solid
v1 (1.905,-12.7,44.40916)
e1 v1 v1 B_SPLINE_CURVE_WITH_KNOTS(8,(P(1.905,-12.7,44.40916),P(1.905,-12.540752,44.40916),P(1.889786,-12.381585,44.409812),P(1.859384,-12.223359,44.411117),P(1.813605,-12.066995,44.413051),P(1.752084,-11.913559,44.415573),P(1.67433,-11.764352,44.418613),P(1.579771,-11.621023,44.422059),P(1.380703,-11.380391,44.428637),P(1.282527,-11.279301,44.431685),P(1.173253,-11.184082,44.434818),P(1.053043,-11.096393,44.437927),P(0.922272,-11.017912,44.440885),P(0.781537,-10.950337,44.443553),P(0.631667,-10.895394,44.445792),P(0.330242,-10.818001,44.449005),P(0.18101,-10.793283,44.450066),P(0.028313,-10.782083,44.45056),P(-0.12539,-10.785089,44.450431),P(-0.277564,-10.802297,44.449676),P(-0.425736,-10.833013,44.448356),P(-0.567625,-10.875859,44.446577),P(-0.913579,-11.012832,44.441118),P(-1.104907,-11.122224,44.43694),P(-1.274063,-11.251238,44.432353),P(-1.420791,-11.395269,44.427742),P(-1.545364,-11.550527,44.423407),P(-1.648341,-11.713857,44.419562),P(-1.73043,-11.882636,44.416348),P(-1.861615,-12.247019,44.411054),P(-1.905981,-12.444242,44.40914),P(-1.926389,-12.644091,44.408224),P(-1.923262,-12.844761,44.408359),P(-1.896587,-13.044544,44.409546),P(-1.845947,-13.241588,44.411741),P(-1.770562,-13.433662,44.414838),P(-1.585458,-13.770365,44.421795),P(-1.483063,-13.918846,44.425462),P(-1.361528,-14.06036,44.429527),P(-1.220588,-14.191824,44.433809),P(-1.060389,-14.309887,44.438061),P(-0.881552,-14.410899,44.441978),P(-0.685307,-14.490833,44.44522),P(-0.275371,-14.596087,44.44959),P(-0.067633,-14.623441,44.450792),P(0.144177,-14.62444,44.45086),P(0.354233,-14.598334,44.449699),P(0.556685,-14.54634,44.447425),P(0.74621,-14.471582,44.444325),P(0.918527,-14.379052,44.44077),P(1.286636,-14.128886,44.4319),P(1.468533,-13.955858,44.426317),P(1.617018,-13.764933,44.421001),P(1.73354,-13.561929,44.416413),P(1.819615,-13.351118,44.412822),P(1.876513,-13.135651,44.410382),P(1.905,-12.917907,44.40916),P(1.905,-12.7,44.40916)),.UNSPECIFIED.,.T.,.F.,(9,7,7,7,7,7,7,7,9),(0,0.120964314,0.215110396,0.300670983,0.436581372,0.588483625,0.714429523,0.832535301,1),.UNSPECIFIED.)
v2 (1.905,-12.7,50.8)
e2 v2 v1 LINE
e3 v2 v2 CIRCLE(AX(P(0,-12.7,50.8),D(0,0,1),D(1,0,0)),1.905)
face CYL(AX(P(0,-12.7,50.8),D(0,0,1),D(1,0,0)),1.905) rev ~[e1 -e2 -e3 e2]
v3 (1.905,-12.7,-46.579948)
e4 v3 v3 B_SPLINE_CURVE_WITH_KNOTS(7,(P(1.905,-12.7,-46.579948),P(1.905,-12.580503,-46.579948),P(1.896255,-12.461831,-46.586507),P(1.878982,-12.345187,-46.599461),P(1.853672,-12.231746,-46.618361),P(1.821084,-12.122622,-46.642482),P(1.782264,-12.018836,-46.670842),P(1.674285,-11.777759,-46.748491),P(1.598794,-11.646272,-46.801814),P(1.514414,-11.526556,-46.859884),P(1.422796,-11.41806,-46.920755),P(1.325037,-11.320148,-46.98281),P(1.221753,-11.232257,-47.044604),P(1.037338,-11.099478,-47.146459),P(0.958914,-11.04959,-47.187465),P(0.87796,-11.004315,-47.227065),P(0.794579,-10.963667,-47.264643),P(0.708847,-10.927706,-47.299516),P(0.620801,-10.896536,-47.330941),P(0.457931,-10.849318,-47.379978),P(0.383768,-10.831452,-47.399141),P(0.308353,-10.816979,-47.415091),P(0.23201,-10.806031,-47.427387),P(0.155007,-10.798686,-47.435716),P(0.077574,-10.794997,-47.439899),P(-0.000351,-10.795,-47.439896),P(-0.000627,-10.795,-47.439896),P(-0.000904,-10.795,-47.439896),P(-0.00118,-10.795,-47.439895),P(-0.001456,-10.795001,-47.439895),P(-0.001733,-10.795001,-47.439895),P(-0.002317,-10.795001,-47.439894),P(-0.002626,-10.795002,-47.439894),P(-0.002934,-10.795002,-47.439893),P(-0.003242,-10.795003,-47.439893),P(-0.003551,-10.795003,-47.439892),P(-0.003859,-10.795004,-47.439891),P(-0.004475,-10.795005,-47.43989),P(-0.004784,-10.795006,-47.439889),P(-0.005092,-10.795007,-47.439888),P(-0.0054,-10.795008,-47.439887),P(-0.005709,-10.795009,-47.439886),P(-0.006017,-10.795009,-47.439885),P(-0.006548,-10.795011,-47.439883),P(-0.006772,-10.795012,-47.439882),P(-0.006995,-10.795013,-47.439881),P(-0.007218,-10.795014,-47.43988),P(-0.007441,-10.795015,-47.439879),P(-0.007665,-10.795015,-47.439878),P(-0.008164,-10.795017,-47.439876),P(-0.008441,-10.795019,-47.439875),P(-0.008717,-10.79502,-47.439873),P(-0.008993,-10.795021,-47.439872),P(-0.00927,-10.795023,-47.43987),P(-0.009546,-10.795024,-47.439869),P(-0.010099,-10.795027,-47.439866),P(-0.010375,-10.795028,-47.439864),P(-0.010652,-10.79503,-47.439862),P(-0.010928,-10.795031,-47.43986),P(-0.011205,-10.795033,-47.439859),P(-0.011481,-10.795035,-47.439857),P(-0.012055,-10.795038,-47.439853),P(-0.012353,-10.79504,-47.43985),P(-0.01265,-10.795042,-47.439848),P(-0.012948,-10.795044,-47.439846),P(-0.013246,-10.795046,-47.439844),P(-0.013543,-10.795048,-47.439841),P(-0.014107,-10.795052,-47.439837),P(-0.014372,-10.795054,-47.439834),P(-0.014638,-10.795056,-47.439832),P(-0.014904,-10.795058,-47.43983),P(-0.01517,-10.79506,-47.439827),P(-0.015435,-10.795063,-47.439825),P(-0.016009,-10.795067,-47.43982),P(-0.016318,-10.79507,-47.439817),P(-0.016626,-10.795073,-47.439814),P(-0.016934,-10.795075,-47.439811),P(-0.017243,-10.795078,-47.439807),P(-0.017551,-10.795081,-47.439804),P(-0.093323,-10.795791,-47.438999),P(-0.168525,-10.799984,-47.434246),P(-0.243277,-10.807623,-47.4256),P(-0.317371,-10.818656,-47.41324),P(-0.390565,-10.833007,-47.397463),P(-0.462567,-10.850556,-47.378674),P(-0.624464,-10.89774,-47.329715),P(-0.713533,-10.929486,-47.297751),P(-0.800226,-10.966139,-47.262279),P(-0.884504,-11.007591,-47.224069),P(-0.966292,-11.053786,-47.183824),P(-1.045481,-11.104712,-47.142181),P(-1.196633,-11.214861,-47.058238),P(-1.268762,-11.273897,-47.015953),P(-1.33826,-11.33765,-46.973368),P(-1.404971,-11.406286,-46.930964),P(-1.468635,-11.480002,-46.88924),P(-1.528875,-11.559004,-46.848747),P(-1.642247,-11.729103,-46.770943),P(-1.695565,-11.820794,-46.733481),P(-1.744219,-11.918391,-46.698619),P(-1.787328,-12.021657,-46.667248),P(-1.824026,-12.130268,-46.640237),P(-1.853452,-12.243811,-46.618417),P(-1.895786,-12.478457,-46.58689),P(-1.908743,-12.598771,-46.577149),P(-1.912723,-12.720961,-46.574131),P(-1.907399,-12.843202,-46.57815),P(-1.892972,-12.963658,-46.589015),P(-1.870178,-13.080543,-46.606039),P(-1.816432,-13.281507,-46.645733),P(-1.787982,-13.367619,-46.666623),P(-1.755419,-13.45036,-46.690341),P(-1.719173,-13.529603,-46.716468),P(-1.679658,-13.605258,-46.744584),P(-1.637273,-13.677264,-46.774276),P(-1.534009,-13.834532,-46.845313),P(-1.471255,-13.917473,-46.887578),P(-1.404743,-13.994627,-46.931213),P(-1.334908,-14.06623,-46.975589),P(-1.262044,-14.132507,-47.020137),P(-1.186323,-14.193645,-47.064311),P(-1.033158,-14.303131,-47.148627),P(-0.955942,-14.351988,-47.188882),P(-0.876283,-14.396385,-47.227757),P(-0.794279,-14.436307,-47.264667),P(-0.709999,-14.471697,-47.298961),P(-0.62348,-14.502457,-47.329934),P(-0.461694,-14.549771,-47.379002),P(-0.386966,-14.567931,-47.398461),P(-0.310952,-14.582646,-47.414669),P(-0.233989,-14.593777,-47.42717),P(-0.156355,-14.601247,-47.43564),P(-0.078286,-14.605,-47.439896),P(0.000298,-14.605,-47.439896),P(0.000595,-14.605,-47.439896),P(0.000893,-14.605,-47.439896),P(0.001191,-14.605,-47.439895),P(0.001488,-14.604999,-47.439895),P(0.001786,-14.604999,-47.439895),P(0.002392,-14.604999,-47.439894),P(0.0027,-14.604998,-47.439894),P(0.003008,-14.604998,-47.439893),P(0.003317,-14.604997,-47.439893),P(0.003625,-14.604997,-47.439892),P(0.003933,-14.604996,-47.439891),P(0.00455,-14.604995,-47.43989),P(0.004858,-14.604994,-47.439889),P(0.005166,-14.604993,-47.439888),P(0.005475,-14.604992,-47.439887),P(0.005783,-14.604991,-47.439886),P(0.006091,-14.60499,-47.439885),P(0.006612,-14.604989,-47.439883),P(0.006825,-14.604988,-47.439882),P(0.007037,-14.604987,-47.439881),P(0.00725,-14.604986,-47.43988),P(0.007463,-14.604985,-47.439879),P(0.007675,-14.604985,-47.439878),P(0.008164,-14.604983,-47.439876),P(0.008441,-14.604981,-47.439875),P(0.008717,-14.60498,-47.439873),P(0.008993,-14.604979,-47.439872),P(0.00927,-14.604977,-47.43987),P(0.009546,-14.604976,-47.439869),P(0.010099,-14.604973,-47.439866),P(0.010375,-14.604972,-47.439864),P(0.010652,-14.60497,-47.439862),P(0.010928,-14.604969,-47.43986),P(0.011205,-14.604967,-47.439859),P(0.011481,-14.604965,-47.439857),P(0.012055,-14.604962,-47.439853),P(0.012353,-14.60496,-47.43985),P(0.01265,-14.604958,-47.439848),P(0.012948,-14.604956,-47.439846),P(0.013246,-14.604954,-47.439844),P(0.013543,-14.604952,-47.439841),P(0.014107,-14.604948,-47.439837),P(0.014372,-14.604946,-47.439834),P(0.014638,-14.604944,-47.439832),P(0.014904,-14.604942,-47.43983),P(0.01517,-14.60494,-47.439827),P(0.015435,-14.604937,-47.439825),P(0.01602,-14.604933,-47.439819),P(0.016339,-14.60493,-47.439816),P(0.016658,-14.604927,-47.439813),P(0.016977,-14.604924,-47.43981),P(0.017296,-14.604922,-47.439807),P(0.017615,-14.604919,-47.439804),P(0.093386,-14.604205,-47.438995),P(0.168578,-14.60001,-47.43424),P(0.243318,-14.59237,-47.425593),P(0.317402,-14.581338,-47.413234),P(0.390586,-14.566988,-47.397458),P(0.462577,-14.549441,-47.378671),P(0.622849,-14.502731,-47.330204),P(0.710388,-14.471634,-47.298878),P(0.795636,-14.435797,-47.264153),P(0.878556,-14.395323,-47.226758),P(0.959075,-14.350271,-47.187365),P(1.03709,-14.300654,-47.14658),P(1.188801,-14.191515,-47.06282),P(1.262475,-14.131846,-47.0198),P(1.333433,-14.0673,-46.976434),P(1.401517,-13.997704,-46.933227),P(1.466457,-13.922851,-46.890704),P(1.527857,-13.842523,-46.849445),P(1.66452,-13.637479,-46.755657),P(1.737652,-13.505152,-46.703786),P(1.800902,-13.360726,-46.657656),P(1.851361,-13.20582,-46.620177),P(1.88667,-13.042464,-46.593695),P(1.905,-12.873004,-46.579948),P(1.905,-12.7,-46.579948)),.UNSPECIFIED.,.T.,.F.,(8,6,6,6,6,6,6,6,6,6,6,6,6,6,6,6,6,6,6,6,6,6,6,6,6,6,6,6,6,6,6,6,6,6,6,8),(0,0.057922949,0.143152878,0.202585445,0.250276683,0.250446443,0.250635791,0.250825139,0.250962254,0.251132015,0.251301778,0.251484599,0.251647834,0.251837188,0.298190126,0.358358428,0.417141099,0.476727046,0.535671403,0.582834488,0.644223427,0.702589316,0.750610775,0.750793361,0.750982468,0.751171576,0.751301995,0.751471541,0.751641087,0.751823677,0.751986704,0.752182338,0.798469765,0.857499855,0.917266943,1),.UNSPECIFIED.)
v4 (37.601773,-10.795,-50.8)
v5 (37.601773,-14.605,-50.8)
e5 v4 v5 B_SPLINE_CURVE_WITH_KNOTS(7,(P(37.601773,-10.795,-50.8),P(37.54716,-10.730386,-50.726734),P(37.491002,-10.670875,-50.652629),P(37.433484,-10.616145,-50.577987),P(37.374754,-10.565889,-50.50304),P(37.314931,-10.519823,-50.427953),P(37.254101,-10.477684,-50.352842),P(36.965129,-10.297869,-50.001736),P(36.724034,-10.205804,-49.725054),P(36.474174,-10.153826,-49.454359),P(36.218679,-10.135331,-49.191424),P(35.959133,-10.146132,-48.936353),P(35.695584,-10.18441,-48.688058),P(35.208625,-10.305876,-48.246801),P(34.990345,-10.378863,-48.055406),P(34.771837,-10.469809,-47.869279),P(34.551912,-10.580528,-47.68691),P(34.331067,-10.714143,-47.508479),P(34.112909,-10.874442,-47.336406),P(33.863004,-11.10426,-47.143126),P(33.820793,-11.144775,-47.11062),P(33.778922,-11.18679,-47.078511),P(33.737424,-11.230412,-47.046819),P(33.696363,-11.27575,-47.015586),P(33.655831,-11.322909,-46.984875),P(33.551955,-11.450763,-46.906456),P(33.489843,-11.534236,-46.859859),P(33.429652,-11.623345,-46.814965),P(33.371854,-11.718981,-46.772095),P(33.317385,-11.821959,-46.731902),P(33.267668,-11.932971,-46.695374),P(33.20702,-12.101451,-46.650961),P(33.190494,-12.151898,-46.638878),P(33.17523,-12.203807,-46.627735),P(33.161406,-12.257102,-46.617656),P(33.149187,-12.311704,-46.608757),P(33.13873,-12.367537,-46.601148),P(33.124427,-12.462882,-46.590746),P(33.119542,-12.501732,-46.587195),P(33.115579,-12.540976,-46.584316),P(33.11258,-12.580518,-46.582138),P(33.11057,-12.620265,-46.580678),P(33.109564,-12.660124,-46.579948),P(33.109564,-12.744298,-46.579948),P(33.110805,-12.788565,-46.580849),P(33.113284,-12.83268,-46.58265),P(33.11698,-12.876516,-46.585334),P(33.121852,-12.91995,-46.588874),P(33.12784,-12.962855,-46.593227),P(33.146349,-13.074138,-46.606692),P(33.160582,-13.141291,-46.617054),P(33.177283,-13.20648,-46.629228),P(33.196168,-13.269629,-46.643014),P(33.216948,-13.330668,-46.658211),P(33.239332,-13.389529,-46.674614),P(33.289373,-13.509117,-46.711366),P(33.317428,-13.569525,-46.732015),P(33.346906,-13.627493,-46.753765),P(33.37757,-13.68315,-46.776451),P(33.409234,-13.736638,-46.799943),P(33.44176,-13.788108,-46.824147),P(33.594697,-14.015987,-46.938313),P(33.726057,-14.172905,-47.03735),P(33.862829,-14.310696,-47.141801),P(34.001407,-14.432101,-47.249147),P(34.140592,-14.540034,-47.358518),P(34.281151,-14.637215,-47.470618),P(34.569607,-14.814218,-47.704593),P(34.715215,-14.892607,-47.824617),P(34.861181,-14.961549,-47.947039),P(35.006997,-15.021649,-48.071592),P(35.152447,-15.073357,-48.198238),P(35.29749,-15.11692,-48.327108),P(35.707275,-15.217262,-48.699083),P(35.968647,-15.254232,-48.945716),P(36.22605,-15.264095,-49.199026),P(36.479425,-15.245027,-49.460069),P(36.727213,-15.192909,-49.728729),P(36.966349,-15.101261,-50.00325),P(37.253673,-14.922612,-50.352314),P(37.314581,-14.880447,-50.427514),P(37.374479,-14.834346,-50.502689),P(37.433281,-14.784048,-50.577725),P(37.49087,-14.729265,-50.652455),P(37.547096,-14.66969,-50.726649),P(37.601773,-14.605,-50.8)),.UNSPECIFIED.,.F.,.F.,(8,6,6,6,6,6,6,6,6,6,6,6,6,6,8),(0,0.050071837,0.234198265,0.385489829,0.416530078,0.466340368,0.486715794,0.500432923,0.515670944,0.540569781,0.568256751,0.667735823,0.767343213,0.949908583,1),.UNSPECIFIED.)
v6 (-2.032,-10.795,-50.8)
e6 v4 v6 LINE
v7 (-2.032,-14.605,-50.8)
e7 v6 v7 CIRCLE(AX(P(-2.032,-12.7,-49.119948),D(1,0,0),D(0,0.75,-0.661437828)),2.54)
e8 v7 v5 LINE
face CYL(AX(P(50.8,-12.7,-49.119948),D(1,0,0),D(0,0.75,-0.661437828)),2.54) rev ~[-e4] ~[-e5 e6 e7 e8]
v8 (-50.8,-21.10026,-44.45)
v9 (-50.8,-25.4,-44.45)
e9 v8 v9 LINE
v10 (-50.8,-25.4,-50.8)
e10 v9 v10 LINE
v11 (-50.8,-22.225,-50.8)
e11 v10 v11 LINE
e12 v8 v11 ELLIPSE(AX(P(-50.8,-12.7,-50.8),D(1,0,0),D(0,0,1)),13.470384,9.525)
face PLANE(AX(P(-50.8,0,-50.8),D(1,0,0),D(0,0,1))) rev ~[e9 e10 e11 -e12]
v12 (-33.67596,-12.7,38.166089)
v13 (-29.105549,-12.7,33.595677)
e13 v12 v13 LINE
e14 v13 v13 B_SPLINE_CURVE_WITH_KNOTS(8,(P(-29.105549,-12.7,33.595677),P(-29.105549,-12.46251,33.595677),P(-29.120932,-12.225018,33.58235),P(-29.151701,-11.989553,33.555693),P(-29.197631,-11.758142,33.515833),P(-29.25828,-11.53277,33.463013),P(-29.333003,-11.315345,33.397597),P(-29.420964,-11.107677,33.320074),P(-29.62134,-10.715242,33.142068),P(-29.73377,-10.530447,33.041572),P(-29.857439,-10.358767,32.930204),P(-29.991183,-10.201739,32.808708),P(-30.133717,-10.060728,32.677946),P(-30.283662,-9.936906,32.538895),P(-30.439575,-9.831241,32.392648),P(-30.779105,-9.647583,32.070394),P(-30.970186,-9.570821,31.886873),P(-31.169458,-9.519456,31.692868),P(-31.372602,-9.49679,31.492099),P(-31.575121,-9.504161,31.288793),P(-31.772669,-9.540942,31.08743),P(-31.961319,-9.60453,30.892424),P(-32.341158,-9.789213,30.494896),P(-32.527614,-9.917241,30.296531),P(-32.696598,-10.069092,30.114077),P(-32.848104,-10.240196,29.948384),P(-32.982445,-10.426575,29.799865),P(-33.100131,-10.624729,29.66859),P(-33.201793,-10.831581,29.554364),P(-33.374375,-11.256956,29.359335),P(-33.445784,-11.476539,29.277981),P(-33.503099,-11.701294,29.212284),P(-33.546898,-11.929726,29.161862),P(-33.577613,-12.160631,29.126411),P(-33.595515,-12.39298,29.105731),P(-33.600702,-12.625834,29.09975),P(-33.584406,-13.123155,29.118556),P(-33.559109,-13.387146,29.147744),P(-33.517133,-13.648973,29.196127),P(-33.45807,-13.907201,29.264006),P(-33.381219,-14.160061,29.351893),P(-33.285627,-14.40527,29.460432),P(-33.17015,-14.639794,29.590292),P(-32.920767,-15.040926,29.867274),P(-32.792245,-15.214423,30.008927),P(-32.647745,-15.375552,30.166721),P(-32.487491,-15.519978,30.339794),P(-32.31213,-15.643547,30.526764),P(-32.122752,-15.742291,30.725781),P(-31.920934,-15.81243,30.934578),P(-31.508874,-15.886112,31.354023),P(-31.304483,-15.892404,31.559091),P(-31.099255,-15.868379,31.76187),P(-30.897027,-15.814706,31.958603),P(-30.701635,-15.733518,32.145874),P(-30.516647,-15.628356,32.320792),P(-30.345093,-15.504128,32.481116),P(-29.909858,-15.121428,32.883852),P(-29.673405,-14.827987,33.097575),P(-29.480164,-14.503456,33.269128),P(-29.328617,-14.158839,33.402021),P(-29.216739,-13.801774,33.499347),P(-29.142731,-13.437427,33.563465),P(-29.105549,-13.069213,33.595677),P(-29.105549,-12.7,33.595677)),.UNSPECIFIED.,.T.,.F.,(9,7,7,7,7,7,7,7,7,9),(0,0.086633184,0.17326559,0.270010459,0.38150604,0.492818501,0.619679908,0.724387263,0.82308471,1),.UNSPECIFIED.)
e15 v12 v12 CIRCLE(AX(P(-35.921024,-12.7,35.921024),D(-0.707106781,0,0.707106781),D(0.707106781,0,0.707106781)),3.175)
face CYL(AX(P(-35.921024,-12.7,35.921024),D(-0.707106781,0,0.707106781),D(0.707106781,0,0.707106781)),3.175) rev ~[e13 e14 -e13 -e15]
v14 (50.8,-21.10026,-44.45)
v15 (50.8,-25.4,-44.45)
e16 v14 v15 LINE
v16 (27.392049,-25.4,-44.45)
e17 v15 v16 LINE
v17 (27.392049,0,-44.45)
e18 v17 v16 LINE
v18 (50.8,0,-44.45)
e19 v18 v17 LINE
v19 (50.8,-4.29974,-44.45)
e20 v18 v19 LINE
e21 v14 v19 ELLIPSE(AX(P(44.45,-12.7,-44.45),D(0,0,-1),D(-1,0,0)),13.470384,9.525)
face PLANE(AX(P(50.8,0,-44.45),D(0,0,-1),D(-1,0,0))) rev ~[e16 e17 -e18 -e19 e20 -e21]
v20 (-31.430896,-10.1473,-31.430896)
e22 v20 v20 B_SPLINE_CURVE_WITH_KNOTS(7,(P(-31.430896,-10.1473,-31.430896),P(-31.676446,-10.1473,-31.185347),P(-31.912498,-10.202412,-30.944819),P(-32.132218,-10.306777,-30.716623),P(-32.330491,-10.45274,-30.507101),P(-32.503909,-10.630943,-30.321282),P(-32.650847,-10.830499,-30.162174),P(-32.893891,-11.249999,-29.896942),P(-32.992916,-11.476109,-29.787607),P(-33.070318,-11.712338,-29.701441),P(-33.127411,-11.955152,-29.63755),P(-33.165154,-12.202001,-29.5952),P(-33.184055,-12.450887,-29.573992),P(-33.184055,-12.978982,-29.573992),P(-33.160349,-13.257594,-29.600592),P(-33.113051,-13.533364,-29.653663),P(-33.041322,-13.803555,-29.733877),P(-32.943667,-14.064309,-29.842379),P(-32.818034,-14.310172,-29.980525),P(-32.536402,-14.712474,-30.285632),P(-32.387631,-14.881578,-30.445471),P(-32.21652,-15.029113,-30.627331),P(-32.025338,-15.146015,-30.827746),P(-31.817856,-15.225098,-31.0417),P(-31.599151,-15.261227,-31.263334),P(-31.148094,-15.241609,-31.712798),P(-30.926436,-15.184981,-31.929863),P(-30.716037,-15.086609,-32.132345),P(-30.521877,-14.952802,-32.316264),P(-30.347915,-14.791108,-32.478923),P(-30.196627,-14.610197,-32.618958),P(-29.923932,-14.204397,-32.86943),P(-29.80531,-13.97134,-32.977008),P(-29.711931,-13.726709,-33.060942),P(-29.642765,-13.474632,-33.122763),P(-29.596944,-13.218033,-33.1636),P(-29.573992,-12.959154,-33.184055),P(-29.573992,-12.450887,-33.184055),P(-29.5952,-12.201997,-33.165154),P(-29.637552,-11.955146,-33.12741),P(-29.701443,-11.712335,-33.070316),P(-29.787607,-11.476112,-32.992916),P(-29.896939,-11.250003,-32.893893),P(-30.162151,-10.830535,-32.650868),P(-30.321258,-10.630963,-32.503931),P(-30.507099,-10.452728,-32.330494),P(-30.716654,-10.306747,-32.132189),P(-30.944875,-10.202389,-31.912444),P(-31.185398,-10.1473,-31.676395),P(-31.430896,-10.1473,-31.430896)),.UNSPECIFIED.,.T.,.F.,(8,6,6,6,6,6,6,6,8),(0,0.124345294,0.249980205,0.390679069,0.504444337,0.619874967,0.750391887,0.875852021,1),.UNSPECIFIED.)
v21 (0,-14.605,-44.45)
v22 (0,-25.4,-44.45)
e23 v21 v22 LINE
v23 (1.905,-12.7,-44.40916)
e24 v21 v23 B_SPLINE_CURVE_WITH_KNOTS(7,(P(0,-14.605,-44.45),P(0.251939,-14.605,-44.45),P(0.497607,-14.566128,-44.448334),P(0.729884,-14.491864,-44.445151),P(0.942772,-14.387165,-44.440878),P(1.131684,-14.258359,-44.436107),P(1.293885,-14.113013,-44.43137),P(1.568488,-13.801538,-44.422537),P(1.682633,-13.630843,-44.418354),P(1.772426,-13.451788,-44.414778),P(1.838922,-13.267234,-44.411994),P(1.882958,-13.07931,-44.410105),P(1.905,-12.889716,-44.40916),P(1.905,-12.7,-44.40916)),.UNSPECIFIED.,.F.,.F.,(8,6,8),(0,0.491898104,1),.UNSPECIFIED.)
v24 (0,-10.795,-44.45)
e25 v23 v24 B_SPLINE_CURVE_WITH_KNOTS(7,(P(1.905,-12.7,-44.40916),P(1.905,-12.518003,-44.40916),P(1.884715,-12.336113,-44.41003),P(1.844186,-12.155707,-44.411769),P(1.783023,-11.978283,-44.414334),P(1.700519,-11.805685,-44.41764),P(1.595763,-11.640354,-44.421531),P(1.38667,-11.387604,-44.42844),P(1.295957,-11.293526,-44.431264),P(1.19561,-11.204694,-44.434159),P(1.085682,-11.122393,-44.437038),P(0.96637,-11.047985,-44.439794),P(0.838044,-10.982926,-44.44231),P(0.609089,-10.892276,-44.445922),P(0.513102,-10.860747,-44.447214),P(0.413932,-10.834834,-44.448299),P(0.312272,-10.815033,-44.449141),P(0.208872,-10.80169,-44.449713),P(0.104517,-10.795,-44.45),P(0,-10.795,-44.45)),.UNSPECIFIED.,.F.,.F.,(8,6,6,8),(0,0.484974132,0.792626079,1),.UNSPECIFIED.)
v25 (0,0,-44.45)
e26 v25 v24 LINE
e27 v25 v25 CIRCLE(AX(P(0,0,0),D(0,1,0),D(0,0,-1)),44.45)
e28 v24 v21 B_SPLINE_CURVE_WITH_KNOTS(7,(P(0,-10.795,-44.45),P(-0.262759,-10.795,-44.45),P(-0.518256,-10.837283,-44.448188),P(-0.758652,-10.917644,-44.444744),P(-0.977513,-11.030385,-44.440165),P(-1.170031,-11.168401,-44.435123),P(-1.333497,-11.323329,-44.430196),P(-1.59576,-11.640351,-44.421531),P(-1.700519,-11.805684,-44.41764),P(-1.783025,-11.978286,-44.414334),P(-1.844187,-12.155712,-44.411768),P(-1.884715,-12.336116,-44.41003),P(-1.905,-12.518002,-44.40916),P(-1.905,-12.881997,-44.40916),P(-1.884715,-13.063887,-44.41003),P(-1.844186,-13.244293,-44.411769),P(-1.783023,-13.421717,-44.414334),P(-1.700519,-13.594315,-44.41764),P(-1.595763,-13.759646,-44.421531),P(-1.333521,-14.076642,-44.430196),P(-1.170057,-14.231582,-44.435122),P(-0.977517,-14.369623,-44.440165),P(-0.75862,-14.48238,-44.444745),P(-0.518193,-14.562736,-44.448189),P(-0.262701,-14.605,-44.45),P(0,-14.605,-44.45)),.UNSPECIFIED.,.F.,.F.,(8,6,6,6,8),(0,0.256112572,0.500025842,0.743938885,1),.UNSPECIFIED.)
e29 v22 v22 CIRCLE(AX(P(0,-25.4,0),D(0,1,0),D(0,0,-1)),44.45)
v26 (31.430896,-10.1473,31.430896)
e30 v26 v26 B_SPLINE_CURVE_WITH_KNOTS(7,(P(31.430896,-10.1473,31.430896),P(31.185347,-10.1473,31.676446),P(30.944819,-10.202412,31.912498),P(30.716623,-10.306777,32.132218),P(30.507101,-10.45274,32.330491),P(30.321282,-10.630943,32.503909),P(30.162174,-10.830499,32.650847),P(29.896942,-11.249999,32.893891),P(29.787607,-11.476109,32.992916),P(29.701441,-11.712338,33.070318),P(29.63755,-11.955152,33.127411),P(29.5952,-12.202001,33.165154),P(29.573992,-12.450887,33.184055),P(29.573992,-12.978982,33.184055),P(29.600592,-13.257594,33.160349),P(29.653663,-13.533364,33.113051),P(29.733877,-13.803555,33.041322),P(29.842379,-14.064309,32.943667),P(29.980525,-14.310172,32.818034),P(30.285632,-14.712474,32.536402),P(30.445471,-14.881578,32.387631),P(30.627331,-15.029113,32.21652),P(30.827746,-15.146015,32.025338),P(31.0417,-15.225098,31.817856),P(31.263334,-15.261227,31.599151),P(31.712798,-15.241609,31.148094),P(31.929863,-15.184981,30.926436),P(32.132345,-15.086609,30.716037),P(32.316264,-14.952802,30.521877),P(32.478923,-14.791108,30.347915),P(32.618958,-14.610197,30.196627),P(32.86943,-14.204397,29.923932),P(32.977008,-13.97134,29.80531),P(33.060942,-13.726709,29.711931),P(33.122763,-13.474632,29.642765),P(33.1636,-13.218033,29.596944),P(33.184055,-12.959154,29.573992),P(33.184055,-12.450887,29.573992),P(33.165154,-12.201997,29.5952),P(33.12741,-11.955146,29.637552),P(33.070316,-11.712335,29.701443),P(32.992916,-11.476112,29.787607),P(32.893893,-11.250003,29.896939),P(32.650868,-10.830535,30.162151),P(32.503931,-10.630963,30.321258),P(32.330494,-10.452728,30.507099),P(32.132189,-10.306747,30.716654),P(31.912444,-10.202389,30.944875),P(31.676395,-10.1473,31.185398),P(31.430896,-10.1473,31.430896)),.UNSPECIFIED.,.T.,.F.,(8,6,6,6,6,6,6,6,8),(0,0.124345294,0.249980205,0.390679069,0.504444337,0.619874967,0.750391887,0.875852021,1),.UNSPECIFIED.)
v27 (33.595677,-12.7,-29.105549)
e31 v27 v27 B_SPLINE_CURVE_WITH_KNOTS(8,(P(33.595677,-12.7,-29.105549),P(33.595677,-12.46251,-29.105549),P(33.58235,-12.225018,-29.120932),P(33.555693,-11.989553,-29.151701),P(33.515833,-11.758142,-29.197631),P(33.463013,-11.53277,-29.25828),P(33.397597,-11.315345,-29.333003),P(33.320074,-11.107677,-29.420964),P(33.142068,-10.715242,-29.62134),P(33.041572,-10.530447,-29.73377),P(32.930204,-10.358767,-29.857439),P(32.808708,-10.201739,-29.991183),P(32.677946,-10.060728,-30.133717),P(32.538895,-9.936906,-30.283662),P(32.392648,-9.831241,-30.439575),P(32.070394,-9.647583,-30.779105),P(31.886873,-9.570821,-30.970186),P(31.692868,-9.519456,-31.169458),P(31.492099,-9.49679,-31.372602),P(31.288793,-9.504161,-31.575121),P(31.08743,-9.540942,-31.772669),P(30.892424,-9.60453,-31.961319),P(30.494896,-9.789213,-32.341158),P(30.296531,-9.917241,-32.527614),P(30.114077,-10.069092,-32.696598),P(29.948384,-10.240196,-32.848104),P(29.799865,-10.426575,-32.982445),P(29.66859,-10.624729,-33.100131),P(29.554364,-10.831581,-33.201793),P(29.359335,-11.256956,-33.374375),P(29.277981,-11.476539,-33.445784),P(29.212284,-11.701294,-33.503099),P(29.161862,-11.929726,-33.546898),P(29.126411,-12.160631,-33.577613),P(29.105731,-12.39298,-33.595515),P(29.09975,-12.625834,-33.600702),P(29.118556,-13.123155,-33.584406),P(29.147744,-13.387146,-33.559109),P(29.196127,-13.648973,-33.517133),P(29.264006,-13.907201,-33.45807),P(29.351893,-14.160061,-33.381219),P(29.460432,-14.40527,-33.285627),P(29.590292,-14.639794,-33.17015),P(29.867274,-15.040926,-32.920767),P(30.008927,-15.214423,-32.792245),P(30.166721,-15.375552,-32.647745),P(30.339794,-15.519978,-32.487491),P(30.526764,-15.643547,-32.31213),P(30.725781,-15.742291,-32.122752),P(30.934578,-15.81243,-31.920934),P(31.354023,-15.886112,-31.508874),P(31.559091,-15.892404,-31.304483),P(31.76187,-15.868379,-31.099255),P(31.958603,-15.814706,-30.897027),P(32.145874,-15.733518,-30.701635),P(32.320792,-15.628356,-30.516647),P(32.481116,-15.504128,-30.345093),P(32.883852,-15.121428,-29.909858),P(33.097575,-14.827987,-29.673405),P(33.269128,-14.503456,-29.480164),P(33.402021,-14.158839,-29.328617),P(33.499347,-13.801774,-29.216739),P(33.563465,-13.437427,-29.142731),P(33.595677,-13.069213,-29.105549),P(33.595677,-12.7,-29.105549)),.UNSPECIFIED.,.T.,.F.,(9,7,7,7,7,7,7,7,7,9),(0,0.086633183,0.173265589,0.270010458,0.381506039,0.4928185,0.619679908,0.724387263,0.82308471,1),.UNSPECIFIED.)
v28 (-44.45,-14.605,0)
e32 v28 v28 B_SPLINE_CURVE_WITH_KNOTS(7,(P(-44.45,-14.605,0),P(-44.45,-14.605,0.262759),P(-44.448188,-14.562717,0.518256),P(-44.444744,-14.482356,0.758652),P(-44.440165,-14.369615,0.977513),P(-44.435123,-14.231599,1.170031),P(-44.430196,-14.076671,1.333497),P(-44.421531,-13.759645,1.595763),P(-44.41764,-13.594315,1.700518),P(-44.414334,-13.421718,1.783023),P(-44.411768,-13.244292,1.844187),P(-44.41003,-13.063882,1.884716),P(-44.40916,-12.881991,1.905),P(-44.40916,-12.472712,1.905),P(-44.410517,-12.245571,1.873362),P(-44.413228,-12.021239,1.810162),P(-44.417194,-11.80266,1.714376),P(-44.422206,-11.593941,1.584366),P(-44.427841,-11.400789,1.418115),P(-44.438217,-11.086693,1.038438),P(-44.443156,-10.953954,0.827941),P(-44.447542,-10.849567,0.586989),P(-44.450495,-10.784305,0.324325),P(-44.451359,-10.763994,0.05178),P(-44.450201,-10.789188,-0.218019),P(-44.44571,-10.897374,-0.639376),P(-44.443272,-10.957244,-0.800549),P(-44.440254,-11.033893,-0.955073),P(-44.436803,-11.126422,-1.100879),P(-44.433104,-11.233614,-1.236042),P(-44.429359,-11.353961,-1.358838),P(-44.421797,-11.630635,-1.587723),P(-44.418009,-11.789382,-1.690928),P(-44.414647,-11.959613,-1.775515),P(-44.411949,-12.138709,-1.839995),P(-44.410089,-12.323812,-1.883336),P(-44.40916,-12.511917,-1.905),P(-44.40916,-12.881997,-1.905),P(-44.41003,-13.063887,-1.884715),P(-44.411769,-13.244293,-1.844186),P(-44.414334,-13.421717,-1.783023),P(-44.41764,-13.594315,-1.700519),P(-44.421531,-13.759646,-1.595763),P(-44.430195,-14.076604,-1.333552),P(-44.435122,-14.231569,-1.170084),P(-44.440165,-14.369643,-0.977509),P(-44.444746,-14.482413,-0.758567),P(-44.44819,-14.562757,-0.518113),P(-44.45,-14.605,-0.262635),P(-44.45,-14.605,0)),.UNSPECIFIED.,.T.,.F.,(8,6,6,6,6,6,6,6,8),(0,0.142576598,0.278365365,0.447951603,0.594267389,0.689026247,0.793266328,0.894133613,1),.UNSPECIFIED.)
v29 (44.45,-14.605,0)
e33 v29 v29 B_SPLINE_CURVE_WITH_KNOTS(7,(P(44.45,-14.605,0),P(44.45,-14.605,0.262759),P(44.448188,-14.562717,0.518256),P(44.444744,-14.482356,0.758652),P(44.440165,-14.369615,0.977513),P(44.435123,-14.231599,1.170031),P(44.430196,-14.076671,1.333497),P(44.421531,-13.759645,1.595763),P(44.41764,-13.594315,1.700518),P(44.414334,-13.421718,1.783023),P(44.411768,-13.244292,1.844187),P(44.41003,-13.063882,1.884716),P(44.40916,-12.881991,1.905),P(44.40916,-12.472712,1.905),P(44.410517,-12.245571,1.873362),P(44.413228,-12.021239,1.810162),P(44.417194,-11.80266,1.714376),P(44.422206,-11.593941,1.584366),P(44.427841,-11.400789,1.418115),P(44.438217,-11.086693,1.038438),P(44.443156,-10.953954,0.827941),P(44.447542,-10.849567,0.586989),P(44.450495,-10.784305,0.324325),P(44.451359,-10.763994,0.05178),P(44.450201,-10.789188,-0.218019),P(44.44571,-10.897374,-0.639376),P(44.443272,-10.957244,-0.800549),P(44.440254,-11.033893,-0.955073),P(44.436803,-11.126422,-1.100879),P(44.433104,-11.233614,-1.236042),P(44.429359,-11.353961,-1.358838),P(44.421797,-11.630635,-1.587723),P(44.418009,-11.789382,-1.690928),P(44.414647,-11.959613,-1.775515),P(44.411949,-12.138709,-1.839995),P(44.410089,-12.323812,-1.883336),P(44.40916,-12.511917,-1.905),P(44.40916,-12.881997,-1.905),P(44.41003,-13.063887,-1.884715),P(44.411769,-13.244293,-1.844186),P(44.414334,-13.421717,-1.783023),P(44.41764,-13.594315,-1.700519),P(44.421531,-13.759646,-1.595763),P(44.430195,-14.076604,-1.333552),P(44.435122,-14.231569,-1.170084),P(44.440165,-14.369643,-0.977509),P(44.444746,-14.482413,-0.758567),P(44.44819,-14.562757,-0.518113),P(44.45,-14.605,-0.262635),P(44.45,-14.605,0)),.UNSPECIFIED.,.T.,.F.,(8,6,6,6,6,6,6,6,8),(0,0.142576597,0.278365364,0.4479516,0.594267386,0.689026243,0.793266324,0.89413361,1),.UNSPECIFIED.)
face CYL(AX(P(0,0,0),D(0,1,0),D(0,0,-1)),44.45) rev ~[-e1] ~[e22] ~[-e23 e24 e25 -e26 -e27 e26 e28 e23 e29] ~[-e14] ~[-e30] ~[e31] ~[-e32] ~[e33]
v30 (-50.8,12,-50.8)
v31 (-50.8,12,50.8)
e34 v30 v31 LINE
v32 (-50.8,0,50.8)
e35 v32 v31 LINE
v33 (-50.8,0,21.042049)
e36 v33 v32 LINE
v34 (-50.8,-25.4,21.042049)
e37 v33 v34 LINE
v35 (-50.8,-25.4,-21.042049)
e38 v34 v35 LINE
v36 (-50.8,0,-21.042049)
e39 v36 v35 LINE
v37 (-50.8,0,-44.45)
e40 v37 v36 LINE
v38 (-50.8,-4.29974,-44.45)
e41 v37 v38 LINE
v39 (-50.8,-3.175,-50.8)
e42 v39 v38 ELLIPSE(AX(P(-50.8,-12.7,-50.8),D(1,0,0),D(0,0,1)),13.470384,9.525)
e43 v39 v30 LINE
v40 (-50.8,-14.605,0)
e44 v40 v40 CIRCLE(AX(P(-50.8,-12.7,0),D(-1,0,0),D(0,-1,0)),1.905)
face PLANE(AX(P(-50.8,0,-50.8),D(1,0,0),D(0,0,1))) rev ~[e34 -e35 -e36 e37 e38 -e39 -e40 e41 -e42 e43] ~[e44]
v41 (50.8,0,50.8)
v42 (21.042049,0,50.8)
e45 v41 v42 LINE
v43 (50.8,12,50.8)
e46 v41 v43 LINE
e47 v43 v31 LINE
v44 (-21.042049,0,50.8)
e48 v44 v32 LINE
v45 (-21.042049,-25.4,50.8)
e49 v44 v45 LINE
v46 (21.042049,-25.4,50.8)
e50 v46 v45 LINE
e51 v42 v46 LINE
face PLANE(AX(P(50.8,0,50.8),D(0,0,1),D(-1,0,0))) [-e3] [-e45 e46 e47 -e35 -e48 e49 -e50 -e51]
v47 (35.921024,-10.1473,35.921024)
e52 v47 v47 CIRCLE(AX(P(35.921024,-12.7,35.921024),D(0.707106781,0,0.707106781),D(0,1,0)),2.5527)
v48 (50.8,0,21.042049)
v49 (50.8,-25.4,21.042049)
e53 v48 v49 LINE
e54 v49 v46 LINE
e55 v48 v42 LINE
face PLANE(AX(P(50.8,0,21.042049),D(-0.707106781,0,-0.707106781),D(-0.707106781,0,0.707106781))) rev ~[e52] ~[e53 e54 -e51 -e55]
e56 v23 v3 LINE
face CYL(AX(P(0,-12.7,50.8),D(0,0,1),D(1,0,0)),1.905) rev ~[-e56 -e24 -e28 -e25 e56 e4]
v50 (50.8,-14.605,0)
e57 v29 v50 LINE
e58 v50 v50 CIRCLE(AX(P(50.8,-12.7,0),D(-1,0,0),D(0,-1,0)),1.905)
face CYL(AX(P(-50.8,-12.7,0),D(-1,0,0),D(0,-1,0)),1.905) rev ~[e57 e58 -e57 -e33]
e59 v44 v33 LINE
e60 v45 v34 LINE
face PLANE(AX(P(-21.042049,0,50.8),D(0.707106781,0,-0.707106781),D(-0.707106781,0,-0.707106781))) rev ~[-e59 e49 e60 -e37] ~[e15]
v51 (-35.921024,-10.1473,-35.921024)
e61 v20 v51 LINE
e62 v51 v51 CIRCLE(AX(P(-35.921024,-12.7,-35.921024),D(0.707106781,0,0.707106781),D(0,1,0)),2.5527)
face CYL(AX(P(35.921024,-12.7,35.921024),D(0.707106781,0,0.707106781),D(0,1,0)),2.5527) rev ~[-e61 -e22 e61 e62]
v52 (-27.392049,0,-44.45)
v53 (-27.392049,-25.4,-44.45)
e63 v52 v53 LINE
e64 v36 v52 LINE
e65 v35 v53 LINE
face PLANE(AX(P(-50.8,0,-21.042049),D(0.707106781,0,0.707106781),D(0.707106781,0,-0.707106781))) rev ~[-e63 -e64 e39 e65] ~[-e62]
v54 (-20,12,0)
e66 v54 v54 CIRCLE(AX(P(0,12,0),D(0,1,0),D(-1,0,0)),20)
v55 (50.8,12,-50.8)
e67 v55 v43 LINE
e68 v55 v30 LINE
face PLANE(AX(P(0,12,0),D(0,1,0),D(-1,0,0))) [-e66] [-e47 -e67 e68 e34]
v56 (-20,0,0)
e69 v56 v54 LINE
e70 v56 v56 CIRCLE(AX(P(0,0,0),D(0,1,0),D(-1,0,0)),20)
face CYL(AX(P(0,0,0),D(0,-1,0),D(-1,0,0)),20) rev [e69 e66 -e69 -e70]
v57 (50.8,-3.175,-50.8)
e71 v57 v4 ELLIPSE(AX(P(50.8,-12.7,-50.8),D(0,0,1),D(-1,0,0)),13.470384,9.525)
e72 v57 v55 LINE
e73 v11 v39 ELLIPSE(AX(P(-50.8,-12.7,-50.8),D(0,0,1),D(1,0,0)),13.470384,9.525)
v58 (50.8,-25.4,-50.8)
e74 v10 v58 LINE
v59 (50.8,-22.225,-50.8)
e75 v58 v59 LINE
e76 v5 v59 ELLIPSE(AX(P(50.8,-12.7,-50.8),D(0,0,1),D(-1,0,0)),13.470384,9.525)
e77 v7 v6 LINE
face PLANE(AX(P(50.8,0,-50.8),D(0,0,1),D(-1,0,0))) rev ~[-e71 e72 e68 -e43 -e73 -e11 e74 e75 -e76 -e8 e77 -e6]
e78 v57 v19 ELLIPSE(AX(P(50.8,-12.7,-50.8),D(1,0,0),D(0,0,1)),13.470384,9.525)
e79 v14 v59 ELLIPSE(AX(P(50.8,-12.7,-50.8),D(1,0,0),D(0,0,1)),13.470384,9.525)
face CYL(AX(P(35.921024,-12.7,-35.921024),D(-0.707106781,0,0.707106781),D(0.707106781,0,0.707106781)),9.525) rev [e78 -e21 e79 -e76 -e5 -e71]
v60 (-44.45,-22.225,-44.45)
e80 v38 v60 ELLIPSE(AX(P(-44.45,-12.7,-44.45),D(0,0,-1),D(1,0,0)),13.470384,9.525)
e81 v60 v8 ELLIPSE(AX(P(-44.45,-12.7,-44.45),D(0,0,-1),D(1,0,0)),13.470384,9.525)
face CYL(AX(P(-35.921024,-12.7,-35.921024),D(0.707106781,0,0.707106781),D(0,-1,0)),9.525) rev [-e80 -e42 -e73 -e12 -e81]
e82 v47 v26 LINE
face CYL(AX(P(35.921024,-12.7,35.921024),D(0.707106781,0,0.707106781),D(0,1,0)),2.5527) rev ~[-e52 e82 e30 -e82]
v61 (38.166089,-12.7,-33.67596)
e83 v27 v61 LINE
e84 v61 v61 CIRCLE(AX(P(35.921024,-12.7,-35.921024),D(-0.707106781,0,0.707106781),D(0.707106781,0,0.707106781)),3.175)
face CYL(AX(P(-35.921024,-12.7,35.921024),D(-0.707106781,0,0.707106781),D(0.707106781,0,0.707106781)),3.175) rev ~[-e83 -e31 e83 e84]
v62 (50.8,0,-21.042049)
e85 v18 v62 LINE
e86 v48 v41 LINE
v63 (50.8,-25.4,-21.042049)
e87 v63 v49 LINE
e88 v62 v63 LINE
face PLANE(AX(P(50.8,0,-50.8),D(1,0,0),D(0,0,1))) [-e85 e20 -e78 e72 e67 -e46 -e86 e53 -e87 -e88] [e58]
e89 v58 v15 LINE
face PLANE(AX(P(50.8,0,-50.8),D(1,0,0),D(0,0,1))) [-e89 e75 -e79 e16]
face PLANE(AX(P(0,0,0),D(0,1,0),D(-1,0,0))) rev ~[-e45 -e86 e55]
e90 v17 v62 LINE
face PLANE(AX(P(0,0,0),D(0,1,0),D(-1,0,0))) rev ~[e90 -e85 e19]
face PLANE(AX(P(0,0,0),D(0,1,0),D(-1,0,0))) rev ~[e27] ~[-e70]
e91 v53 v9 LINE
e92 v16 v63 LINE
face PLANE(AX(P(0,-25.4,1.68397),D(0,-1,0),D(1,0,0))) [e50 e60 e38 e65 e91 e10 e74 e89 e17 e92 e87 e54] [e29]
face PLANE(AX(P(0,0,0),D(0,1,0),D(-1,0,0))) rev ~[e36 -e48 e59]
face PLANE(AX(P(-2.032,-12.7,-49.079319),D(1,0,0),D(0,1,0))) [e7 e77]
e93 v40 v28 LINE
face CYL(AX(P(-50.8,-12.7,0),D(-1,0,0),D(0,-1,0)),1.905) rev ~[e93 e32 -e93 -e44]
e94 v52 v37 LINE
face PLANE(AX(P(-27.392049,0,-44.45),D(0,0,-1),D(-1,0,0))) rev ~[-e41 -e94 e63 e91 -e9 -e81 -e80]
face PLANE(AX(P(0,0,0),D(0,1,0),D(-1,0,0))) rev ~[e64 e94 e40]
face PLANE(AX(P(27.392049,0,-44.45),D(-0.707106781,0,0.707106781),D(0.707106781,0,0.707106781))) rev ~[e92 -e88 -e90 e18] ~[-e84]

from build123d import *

# Parameters (mm, degrees)
F1_DEPTH  = 25.4
F2_W      = 101.6
F2_H      = 101.6
F2_R      = 20
F3_DEPTH  = 12
F5_R      = 3.175
F6_DEPTH  = 101.6
F7_R      = 9.525
F8_DEPTH  = 31.5670489687
F9_R      = 9.525
F10_DEPTH = 31.5670489686
F11_R     = 1.905
F12_DEPTH = 101.6
F13_R     = 1.905
F14_DEPTH = 101.6
F17_DEPTH = 52.832
F4_R      = 2.5527
F18_DEPTH = 101.6


with BuildPart() as f1:
    # F0 (on Front) → F1 (new body)
    with BuildSketch(Plane.XZ):
        Polygon((-27.3920489686, -44.45), (1.258e-07, -44.45), (27.3920489686, -44.45), (50.8, -21.0420489686), (50.8, 21.0420489686), (21.0420489686, 50.8), (-21.0420489686, 50.8), (-50.8, 21.0420489686), (-50.8, -21.0420489686), align=None)
        with BuildLine():
            ThreePointArc((1.258e-07, -44.45), (-31.4308964682, 31.4308963793), (44.45, 0))
            ThreePointArc((44.45, 0), (31.4308964682, -31.4308963793), (1.258e-07, -44.45))
        make_face(mode=Mode.SUBTRACT)
        Polygon((27.3920489686, -44.45), (1.258e-07, -44.45), (-27.3920489686, -44.45), (-21.0420489686, -50.8), (21.0420489686, -50.8), align=None)
        Polygon((-21.0420489686, -50.8), (-27.3920489686, -44.45), (-50.8, -44.45), (-50.8, -50.8), align=None)
        Polygon((50.8, -44.45), (27.3920489686, -44.45), (21.0420489686, -50.8), (50.8, -50.8), align=None)
    extrude(amount=F1_DEPTH)

    # F2 (on face) → F3 (join)
    with BuildSketch(Plane(origin=(0, 0, 0), x_dir=(-1, 0, 0), z_dir=(0, 1, 0))):
        Rectangle(F2_W, F2_H)
        Circle(F2_R, mode=Mode.SUBTRACT)
    extrude(amount=F3_DEPTH)

    # F5 (on face) → F6 (cut, through all)
    with BuildSketch(Plane(origin=(-35.9210244843, 0, 35.9210244843), x_dir=(0.7071067812, 0, 0.7071067812), z_dir=(-0.7071067812, 0, 0.7071067812))):
        with Locations((0, -12.7)):
            Circle(F5_R)
    extrude(amount=-F6_DEPTH, mode=Mode.SUBTRACT)

    # F7 (on face) → F8 (cut, up to face)
    with BuildSketch(Plane(origin=(-35.9210244843, 0, -35.9210244843), x_dir=(0, -1, 0), z_dir=(-0.7071067812, 0, -0.7071067812))):
        with Locations((12.7, 2e-10)):
            Circle(F7_R)
    extrude(amount=F8_DEPTH, mode=Mode.SUBTRACT)

    # F9 (on face) → F10 (cut, up to face)
    with BuildSketch(Plane(origin=(35.9210244843, 0, -35.9210244843), x_dir=(0.7071067812, 0, 0.7071067812), z_dir=(0.7071067812, 0, -0.7071067812))):
        with Locations((0, 12.7)):
            Circle(F9_R)
    extrude(amount=F10_DEPTH, mode=Mode.SUBTRACT)

    # F11 (on face) → F12 (cut, through all)
    with BuildSketch(Plane.XY.offset(50.8)):
        with Locations((0, -12.7)):
            Circle(F11_R)
    extrude(amount=-F12_DEPTH, mode=Mode.SUBTRACT)

    # F13 (on face) → F14 (cut, through all)
    with BuildSketch(Plane(origin=(-50.8, 0, 0), x_dir=(0, -1, 0), z_dir=(-1, 0, 0))):
        with Locations((12.7, 0)):
            Circle(F13_R)
    extrude(amount=-F14_DEPTH, mode=Mode.SUBTRACT)

    # F16 (on face) → F17 (cut)
    with BuildSketch(Plane.YZ.offset(50.8)):
        with BuildLine():
            Line((-14.605, -50.8), (-10.795, -50.8))
            ThreePointArc((-10.795, -50.8), (-12.7, -46.5799479175), (-14.605, -50.8))
        make_face()
    extrude(amount=-F17_DEPTH, mode=Mode.SUBTRACT)

    # F4 (on face) → F18 (cut, through all)
    with BuildSketch(Plane(origin=(35.9210244843, 0, 35.9210244843), x_dir=(0, 1, 0), z_dir=(0.7071067812, 0, 0.7071067812))):
        with Locations((-12.7, 0)):
            Circle(F4_R)
    extrude(amount=-F18_DEPTH, mode=Mode.SUBTRACT)


solid = f1.part
